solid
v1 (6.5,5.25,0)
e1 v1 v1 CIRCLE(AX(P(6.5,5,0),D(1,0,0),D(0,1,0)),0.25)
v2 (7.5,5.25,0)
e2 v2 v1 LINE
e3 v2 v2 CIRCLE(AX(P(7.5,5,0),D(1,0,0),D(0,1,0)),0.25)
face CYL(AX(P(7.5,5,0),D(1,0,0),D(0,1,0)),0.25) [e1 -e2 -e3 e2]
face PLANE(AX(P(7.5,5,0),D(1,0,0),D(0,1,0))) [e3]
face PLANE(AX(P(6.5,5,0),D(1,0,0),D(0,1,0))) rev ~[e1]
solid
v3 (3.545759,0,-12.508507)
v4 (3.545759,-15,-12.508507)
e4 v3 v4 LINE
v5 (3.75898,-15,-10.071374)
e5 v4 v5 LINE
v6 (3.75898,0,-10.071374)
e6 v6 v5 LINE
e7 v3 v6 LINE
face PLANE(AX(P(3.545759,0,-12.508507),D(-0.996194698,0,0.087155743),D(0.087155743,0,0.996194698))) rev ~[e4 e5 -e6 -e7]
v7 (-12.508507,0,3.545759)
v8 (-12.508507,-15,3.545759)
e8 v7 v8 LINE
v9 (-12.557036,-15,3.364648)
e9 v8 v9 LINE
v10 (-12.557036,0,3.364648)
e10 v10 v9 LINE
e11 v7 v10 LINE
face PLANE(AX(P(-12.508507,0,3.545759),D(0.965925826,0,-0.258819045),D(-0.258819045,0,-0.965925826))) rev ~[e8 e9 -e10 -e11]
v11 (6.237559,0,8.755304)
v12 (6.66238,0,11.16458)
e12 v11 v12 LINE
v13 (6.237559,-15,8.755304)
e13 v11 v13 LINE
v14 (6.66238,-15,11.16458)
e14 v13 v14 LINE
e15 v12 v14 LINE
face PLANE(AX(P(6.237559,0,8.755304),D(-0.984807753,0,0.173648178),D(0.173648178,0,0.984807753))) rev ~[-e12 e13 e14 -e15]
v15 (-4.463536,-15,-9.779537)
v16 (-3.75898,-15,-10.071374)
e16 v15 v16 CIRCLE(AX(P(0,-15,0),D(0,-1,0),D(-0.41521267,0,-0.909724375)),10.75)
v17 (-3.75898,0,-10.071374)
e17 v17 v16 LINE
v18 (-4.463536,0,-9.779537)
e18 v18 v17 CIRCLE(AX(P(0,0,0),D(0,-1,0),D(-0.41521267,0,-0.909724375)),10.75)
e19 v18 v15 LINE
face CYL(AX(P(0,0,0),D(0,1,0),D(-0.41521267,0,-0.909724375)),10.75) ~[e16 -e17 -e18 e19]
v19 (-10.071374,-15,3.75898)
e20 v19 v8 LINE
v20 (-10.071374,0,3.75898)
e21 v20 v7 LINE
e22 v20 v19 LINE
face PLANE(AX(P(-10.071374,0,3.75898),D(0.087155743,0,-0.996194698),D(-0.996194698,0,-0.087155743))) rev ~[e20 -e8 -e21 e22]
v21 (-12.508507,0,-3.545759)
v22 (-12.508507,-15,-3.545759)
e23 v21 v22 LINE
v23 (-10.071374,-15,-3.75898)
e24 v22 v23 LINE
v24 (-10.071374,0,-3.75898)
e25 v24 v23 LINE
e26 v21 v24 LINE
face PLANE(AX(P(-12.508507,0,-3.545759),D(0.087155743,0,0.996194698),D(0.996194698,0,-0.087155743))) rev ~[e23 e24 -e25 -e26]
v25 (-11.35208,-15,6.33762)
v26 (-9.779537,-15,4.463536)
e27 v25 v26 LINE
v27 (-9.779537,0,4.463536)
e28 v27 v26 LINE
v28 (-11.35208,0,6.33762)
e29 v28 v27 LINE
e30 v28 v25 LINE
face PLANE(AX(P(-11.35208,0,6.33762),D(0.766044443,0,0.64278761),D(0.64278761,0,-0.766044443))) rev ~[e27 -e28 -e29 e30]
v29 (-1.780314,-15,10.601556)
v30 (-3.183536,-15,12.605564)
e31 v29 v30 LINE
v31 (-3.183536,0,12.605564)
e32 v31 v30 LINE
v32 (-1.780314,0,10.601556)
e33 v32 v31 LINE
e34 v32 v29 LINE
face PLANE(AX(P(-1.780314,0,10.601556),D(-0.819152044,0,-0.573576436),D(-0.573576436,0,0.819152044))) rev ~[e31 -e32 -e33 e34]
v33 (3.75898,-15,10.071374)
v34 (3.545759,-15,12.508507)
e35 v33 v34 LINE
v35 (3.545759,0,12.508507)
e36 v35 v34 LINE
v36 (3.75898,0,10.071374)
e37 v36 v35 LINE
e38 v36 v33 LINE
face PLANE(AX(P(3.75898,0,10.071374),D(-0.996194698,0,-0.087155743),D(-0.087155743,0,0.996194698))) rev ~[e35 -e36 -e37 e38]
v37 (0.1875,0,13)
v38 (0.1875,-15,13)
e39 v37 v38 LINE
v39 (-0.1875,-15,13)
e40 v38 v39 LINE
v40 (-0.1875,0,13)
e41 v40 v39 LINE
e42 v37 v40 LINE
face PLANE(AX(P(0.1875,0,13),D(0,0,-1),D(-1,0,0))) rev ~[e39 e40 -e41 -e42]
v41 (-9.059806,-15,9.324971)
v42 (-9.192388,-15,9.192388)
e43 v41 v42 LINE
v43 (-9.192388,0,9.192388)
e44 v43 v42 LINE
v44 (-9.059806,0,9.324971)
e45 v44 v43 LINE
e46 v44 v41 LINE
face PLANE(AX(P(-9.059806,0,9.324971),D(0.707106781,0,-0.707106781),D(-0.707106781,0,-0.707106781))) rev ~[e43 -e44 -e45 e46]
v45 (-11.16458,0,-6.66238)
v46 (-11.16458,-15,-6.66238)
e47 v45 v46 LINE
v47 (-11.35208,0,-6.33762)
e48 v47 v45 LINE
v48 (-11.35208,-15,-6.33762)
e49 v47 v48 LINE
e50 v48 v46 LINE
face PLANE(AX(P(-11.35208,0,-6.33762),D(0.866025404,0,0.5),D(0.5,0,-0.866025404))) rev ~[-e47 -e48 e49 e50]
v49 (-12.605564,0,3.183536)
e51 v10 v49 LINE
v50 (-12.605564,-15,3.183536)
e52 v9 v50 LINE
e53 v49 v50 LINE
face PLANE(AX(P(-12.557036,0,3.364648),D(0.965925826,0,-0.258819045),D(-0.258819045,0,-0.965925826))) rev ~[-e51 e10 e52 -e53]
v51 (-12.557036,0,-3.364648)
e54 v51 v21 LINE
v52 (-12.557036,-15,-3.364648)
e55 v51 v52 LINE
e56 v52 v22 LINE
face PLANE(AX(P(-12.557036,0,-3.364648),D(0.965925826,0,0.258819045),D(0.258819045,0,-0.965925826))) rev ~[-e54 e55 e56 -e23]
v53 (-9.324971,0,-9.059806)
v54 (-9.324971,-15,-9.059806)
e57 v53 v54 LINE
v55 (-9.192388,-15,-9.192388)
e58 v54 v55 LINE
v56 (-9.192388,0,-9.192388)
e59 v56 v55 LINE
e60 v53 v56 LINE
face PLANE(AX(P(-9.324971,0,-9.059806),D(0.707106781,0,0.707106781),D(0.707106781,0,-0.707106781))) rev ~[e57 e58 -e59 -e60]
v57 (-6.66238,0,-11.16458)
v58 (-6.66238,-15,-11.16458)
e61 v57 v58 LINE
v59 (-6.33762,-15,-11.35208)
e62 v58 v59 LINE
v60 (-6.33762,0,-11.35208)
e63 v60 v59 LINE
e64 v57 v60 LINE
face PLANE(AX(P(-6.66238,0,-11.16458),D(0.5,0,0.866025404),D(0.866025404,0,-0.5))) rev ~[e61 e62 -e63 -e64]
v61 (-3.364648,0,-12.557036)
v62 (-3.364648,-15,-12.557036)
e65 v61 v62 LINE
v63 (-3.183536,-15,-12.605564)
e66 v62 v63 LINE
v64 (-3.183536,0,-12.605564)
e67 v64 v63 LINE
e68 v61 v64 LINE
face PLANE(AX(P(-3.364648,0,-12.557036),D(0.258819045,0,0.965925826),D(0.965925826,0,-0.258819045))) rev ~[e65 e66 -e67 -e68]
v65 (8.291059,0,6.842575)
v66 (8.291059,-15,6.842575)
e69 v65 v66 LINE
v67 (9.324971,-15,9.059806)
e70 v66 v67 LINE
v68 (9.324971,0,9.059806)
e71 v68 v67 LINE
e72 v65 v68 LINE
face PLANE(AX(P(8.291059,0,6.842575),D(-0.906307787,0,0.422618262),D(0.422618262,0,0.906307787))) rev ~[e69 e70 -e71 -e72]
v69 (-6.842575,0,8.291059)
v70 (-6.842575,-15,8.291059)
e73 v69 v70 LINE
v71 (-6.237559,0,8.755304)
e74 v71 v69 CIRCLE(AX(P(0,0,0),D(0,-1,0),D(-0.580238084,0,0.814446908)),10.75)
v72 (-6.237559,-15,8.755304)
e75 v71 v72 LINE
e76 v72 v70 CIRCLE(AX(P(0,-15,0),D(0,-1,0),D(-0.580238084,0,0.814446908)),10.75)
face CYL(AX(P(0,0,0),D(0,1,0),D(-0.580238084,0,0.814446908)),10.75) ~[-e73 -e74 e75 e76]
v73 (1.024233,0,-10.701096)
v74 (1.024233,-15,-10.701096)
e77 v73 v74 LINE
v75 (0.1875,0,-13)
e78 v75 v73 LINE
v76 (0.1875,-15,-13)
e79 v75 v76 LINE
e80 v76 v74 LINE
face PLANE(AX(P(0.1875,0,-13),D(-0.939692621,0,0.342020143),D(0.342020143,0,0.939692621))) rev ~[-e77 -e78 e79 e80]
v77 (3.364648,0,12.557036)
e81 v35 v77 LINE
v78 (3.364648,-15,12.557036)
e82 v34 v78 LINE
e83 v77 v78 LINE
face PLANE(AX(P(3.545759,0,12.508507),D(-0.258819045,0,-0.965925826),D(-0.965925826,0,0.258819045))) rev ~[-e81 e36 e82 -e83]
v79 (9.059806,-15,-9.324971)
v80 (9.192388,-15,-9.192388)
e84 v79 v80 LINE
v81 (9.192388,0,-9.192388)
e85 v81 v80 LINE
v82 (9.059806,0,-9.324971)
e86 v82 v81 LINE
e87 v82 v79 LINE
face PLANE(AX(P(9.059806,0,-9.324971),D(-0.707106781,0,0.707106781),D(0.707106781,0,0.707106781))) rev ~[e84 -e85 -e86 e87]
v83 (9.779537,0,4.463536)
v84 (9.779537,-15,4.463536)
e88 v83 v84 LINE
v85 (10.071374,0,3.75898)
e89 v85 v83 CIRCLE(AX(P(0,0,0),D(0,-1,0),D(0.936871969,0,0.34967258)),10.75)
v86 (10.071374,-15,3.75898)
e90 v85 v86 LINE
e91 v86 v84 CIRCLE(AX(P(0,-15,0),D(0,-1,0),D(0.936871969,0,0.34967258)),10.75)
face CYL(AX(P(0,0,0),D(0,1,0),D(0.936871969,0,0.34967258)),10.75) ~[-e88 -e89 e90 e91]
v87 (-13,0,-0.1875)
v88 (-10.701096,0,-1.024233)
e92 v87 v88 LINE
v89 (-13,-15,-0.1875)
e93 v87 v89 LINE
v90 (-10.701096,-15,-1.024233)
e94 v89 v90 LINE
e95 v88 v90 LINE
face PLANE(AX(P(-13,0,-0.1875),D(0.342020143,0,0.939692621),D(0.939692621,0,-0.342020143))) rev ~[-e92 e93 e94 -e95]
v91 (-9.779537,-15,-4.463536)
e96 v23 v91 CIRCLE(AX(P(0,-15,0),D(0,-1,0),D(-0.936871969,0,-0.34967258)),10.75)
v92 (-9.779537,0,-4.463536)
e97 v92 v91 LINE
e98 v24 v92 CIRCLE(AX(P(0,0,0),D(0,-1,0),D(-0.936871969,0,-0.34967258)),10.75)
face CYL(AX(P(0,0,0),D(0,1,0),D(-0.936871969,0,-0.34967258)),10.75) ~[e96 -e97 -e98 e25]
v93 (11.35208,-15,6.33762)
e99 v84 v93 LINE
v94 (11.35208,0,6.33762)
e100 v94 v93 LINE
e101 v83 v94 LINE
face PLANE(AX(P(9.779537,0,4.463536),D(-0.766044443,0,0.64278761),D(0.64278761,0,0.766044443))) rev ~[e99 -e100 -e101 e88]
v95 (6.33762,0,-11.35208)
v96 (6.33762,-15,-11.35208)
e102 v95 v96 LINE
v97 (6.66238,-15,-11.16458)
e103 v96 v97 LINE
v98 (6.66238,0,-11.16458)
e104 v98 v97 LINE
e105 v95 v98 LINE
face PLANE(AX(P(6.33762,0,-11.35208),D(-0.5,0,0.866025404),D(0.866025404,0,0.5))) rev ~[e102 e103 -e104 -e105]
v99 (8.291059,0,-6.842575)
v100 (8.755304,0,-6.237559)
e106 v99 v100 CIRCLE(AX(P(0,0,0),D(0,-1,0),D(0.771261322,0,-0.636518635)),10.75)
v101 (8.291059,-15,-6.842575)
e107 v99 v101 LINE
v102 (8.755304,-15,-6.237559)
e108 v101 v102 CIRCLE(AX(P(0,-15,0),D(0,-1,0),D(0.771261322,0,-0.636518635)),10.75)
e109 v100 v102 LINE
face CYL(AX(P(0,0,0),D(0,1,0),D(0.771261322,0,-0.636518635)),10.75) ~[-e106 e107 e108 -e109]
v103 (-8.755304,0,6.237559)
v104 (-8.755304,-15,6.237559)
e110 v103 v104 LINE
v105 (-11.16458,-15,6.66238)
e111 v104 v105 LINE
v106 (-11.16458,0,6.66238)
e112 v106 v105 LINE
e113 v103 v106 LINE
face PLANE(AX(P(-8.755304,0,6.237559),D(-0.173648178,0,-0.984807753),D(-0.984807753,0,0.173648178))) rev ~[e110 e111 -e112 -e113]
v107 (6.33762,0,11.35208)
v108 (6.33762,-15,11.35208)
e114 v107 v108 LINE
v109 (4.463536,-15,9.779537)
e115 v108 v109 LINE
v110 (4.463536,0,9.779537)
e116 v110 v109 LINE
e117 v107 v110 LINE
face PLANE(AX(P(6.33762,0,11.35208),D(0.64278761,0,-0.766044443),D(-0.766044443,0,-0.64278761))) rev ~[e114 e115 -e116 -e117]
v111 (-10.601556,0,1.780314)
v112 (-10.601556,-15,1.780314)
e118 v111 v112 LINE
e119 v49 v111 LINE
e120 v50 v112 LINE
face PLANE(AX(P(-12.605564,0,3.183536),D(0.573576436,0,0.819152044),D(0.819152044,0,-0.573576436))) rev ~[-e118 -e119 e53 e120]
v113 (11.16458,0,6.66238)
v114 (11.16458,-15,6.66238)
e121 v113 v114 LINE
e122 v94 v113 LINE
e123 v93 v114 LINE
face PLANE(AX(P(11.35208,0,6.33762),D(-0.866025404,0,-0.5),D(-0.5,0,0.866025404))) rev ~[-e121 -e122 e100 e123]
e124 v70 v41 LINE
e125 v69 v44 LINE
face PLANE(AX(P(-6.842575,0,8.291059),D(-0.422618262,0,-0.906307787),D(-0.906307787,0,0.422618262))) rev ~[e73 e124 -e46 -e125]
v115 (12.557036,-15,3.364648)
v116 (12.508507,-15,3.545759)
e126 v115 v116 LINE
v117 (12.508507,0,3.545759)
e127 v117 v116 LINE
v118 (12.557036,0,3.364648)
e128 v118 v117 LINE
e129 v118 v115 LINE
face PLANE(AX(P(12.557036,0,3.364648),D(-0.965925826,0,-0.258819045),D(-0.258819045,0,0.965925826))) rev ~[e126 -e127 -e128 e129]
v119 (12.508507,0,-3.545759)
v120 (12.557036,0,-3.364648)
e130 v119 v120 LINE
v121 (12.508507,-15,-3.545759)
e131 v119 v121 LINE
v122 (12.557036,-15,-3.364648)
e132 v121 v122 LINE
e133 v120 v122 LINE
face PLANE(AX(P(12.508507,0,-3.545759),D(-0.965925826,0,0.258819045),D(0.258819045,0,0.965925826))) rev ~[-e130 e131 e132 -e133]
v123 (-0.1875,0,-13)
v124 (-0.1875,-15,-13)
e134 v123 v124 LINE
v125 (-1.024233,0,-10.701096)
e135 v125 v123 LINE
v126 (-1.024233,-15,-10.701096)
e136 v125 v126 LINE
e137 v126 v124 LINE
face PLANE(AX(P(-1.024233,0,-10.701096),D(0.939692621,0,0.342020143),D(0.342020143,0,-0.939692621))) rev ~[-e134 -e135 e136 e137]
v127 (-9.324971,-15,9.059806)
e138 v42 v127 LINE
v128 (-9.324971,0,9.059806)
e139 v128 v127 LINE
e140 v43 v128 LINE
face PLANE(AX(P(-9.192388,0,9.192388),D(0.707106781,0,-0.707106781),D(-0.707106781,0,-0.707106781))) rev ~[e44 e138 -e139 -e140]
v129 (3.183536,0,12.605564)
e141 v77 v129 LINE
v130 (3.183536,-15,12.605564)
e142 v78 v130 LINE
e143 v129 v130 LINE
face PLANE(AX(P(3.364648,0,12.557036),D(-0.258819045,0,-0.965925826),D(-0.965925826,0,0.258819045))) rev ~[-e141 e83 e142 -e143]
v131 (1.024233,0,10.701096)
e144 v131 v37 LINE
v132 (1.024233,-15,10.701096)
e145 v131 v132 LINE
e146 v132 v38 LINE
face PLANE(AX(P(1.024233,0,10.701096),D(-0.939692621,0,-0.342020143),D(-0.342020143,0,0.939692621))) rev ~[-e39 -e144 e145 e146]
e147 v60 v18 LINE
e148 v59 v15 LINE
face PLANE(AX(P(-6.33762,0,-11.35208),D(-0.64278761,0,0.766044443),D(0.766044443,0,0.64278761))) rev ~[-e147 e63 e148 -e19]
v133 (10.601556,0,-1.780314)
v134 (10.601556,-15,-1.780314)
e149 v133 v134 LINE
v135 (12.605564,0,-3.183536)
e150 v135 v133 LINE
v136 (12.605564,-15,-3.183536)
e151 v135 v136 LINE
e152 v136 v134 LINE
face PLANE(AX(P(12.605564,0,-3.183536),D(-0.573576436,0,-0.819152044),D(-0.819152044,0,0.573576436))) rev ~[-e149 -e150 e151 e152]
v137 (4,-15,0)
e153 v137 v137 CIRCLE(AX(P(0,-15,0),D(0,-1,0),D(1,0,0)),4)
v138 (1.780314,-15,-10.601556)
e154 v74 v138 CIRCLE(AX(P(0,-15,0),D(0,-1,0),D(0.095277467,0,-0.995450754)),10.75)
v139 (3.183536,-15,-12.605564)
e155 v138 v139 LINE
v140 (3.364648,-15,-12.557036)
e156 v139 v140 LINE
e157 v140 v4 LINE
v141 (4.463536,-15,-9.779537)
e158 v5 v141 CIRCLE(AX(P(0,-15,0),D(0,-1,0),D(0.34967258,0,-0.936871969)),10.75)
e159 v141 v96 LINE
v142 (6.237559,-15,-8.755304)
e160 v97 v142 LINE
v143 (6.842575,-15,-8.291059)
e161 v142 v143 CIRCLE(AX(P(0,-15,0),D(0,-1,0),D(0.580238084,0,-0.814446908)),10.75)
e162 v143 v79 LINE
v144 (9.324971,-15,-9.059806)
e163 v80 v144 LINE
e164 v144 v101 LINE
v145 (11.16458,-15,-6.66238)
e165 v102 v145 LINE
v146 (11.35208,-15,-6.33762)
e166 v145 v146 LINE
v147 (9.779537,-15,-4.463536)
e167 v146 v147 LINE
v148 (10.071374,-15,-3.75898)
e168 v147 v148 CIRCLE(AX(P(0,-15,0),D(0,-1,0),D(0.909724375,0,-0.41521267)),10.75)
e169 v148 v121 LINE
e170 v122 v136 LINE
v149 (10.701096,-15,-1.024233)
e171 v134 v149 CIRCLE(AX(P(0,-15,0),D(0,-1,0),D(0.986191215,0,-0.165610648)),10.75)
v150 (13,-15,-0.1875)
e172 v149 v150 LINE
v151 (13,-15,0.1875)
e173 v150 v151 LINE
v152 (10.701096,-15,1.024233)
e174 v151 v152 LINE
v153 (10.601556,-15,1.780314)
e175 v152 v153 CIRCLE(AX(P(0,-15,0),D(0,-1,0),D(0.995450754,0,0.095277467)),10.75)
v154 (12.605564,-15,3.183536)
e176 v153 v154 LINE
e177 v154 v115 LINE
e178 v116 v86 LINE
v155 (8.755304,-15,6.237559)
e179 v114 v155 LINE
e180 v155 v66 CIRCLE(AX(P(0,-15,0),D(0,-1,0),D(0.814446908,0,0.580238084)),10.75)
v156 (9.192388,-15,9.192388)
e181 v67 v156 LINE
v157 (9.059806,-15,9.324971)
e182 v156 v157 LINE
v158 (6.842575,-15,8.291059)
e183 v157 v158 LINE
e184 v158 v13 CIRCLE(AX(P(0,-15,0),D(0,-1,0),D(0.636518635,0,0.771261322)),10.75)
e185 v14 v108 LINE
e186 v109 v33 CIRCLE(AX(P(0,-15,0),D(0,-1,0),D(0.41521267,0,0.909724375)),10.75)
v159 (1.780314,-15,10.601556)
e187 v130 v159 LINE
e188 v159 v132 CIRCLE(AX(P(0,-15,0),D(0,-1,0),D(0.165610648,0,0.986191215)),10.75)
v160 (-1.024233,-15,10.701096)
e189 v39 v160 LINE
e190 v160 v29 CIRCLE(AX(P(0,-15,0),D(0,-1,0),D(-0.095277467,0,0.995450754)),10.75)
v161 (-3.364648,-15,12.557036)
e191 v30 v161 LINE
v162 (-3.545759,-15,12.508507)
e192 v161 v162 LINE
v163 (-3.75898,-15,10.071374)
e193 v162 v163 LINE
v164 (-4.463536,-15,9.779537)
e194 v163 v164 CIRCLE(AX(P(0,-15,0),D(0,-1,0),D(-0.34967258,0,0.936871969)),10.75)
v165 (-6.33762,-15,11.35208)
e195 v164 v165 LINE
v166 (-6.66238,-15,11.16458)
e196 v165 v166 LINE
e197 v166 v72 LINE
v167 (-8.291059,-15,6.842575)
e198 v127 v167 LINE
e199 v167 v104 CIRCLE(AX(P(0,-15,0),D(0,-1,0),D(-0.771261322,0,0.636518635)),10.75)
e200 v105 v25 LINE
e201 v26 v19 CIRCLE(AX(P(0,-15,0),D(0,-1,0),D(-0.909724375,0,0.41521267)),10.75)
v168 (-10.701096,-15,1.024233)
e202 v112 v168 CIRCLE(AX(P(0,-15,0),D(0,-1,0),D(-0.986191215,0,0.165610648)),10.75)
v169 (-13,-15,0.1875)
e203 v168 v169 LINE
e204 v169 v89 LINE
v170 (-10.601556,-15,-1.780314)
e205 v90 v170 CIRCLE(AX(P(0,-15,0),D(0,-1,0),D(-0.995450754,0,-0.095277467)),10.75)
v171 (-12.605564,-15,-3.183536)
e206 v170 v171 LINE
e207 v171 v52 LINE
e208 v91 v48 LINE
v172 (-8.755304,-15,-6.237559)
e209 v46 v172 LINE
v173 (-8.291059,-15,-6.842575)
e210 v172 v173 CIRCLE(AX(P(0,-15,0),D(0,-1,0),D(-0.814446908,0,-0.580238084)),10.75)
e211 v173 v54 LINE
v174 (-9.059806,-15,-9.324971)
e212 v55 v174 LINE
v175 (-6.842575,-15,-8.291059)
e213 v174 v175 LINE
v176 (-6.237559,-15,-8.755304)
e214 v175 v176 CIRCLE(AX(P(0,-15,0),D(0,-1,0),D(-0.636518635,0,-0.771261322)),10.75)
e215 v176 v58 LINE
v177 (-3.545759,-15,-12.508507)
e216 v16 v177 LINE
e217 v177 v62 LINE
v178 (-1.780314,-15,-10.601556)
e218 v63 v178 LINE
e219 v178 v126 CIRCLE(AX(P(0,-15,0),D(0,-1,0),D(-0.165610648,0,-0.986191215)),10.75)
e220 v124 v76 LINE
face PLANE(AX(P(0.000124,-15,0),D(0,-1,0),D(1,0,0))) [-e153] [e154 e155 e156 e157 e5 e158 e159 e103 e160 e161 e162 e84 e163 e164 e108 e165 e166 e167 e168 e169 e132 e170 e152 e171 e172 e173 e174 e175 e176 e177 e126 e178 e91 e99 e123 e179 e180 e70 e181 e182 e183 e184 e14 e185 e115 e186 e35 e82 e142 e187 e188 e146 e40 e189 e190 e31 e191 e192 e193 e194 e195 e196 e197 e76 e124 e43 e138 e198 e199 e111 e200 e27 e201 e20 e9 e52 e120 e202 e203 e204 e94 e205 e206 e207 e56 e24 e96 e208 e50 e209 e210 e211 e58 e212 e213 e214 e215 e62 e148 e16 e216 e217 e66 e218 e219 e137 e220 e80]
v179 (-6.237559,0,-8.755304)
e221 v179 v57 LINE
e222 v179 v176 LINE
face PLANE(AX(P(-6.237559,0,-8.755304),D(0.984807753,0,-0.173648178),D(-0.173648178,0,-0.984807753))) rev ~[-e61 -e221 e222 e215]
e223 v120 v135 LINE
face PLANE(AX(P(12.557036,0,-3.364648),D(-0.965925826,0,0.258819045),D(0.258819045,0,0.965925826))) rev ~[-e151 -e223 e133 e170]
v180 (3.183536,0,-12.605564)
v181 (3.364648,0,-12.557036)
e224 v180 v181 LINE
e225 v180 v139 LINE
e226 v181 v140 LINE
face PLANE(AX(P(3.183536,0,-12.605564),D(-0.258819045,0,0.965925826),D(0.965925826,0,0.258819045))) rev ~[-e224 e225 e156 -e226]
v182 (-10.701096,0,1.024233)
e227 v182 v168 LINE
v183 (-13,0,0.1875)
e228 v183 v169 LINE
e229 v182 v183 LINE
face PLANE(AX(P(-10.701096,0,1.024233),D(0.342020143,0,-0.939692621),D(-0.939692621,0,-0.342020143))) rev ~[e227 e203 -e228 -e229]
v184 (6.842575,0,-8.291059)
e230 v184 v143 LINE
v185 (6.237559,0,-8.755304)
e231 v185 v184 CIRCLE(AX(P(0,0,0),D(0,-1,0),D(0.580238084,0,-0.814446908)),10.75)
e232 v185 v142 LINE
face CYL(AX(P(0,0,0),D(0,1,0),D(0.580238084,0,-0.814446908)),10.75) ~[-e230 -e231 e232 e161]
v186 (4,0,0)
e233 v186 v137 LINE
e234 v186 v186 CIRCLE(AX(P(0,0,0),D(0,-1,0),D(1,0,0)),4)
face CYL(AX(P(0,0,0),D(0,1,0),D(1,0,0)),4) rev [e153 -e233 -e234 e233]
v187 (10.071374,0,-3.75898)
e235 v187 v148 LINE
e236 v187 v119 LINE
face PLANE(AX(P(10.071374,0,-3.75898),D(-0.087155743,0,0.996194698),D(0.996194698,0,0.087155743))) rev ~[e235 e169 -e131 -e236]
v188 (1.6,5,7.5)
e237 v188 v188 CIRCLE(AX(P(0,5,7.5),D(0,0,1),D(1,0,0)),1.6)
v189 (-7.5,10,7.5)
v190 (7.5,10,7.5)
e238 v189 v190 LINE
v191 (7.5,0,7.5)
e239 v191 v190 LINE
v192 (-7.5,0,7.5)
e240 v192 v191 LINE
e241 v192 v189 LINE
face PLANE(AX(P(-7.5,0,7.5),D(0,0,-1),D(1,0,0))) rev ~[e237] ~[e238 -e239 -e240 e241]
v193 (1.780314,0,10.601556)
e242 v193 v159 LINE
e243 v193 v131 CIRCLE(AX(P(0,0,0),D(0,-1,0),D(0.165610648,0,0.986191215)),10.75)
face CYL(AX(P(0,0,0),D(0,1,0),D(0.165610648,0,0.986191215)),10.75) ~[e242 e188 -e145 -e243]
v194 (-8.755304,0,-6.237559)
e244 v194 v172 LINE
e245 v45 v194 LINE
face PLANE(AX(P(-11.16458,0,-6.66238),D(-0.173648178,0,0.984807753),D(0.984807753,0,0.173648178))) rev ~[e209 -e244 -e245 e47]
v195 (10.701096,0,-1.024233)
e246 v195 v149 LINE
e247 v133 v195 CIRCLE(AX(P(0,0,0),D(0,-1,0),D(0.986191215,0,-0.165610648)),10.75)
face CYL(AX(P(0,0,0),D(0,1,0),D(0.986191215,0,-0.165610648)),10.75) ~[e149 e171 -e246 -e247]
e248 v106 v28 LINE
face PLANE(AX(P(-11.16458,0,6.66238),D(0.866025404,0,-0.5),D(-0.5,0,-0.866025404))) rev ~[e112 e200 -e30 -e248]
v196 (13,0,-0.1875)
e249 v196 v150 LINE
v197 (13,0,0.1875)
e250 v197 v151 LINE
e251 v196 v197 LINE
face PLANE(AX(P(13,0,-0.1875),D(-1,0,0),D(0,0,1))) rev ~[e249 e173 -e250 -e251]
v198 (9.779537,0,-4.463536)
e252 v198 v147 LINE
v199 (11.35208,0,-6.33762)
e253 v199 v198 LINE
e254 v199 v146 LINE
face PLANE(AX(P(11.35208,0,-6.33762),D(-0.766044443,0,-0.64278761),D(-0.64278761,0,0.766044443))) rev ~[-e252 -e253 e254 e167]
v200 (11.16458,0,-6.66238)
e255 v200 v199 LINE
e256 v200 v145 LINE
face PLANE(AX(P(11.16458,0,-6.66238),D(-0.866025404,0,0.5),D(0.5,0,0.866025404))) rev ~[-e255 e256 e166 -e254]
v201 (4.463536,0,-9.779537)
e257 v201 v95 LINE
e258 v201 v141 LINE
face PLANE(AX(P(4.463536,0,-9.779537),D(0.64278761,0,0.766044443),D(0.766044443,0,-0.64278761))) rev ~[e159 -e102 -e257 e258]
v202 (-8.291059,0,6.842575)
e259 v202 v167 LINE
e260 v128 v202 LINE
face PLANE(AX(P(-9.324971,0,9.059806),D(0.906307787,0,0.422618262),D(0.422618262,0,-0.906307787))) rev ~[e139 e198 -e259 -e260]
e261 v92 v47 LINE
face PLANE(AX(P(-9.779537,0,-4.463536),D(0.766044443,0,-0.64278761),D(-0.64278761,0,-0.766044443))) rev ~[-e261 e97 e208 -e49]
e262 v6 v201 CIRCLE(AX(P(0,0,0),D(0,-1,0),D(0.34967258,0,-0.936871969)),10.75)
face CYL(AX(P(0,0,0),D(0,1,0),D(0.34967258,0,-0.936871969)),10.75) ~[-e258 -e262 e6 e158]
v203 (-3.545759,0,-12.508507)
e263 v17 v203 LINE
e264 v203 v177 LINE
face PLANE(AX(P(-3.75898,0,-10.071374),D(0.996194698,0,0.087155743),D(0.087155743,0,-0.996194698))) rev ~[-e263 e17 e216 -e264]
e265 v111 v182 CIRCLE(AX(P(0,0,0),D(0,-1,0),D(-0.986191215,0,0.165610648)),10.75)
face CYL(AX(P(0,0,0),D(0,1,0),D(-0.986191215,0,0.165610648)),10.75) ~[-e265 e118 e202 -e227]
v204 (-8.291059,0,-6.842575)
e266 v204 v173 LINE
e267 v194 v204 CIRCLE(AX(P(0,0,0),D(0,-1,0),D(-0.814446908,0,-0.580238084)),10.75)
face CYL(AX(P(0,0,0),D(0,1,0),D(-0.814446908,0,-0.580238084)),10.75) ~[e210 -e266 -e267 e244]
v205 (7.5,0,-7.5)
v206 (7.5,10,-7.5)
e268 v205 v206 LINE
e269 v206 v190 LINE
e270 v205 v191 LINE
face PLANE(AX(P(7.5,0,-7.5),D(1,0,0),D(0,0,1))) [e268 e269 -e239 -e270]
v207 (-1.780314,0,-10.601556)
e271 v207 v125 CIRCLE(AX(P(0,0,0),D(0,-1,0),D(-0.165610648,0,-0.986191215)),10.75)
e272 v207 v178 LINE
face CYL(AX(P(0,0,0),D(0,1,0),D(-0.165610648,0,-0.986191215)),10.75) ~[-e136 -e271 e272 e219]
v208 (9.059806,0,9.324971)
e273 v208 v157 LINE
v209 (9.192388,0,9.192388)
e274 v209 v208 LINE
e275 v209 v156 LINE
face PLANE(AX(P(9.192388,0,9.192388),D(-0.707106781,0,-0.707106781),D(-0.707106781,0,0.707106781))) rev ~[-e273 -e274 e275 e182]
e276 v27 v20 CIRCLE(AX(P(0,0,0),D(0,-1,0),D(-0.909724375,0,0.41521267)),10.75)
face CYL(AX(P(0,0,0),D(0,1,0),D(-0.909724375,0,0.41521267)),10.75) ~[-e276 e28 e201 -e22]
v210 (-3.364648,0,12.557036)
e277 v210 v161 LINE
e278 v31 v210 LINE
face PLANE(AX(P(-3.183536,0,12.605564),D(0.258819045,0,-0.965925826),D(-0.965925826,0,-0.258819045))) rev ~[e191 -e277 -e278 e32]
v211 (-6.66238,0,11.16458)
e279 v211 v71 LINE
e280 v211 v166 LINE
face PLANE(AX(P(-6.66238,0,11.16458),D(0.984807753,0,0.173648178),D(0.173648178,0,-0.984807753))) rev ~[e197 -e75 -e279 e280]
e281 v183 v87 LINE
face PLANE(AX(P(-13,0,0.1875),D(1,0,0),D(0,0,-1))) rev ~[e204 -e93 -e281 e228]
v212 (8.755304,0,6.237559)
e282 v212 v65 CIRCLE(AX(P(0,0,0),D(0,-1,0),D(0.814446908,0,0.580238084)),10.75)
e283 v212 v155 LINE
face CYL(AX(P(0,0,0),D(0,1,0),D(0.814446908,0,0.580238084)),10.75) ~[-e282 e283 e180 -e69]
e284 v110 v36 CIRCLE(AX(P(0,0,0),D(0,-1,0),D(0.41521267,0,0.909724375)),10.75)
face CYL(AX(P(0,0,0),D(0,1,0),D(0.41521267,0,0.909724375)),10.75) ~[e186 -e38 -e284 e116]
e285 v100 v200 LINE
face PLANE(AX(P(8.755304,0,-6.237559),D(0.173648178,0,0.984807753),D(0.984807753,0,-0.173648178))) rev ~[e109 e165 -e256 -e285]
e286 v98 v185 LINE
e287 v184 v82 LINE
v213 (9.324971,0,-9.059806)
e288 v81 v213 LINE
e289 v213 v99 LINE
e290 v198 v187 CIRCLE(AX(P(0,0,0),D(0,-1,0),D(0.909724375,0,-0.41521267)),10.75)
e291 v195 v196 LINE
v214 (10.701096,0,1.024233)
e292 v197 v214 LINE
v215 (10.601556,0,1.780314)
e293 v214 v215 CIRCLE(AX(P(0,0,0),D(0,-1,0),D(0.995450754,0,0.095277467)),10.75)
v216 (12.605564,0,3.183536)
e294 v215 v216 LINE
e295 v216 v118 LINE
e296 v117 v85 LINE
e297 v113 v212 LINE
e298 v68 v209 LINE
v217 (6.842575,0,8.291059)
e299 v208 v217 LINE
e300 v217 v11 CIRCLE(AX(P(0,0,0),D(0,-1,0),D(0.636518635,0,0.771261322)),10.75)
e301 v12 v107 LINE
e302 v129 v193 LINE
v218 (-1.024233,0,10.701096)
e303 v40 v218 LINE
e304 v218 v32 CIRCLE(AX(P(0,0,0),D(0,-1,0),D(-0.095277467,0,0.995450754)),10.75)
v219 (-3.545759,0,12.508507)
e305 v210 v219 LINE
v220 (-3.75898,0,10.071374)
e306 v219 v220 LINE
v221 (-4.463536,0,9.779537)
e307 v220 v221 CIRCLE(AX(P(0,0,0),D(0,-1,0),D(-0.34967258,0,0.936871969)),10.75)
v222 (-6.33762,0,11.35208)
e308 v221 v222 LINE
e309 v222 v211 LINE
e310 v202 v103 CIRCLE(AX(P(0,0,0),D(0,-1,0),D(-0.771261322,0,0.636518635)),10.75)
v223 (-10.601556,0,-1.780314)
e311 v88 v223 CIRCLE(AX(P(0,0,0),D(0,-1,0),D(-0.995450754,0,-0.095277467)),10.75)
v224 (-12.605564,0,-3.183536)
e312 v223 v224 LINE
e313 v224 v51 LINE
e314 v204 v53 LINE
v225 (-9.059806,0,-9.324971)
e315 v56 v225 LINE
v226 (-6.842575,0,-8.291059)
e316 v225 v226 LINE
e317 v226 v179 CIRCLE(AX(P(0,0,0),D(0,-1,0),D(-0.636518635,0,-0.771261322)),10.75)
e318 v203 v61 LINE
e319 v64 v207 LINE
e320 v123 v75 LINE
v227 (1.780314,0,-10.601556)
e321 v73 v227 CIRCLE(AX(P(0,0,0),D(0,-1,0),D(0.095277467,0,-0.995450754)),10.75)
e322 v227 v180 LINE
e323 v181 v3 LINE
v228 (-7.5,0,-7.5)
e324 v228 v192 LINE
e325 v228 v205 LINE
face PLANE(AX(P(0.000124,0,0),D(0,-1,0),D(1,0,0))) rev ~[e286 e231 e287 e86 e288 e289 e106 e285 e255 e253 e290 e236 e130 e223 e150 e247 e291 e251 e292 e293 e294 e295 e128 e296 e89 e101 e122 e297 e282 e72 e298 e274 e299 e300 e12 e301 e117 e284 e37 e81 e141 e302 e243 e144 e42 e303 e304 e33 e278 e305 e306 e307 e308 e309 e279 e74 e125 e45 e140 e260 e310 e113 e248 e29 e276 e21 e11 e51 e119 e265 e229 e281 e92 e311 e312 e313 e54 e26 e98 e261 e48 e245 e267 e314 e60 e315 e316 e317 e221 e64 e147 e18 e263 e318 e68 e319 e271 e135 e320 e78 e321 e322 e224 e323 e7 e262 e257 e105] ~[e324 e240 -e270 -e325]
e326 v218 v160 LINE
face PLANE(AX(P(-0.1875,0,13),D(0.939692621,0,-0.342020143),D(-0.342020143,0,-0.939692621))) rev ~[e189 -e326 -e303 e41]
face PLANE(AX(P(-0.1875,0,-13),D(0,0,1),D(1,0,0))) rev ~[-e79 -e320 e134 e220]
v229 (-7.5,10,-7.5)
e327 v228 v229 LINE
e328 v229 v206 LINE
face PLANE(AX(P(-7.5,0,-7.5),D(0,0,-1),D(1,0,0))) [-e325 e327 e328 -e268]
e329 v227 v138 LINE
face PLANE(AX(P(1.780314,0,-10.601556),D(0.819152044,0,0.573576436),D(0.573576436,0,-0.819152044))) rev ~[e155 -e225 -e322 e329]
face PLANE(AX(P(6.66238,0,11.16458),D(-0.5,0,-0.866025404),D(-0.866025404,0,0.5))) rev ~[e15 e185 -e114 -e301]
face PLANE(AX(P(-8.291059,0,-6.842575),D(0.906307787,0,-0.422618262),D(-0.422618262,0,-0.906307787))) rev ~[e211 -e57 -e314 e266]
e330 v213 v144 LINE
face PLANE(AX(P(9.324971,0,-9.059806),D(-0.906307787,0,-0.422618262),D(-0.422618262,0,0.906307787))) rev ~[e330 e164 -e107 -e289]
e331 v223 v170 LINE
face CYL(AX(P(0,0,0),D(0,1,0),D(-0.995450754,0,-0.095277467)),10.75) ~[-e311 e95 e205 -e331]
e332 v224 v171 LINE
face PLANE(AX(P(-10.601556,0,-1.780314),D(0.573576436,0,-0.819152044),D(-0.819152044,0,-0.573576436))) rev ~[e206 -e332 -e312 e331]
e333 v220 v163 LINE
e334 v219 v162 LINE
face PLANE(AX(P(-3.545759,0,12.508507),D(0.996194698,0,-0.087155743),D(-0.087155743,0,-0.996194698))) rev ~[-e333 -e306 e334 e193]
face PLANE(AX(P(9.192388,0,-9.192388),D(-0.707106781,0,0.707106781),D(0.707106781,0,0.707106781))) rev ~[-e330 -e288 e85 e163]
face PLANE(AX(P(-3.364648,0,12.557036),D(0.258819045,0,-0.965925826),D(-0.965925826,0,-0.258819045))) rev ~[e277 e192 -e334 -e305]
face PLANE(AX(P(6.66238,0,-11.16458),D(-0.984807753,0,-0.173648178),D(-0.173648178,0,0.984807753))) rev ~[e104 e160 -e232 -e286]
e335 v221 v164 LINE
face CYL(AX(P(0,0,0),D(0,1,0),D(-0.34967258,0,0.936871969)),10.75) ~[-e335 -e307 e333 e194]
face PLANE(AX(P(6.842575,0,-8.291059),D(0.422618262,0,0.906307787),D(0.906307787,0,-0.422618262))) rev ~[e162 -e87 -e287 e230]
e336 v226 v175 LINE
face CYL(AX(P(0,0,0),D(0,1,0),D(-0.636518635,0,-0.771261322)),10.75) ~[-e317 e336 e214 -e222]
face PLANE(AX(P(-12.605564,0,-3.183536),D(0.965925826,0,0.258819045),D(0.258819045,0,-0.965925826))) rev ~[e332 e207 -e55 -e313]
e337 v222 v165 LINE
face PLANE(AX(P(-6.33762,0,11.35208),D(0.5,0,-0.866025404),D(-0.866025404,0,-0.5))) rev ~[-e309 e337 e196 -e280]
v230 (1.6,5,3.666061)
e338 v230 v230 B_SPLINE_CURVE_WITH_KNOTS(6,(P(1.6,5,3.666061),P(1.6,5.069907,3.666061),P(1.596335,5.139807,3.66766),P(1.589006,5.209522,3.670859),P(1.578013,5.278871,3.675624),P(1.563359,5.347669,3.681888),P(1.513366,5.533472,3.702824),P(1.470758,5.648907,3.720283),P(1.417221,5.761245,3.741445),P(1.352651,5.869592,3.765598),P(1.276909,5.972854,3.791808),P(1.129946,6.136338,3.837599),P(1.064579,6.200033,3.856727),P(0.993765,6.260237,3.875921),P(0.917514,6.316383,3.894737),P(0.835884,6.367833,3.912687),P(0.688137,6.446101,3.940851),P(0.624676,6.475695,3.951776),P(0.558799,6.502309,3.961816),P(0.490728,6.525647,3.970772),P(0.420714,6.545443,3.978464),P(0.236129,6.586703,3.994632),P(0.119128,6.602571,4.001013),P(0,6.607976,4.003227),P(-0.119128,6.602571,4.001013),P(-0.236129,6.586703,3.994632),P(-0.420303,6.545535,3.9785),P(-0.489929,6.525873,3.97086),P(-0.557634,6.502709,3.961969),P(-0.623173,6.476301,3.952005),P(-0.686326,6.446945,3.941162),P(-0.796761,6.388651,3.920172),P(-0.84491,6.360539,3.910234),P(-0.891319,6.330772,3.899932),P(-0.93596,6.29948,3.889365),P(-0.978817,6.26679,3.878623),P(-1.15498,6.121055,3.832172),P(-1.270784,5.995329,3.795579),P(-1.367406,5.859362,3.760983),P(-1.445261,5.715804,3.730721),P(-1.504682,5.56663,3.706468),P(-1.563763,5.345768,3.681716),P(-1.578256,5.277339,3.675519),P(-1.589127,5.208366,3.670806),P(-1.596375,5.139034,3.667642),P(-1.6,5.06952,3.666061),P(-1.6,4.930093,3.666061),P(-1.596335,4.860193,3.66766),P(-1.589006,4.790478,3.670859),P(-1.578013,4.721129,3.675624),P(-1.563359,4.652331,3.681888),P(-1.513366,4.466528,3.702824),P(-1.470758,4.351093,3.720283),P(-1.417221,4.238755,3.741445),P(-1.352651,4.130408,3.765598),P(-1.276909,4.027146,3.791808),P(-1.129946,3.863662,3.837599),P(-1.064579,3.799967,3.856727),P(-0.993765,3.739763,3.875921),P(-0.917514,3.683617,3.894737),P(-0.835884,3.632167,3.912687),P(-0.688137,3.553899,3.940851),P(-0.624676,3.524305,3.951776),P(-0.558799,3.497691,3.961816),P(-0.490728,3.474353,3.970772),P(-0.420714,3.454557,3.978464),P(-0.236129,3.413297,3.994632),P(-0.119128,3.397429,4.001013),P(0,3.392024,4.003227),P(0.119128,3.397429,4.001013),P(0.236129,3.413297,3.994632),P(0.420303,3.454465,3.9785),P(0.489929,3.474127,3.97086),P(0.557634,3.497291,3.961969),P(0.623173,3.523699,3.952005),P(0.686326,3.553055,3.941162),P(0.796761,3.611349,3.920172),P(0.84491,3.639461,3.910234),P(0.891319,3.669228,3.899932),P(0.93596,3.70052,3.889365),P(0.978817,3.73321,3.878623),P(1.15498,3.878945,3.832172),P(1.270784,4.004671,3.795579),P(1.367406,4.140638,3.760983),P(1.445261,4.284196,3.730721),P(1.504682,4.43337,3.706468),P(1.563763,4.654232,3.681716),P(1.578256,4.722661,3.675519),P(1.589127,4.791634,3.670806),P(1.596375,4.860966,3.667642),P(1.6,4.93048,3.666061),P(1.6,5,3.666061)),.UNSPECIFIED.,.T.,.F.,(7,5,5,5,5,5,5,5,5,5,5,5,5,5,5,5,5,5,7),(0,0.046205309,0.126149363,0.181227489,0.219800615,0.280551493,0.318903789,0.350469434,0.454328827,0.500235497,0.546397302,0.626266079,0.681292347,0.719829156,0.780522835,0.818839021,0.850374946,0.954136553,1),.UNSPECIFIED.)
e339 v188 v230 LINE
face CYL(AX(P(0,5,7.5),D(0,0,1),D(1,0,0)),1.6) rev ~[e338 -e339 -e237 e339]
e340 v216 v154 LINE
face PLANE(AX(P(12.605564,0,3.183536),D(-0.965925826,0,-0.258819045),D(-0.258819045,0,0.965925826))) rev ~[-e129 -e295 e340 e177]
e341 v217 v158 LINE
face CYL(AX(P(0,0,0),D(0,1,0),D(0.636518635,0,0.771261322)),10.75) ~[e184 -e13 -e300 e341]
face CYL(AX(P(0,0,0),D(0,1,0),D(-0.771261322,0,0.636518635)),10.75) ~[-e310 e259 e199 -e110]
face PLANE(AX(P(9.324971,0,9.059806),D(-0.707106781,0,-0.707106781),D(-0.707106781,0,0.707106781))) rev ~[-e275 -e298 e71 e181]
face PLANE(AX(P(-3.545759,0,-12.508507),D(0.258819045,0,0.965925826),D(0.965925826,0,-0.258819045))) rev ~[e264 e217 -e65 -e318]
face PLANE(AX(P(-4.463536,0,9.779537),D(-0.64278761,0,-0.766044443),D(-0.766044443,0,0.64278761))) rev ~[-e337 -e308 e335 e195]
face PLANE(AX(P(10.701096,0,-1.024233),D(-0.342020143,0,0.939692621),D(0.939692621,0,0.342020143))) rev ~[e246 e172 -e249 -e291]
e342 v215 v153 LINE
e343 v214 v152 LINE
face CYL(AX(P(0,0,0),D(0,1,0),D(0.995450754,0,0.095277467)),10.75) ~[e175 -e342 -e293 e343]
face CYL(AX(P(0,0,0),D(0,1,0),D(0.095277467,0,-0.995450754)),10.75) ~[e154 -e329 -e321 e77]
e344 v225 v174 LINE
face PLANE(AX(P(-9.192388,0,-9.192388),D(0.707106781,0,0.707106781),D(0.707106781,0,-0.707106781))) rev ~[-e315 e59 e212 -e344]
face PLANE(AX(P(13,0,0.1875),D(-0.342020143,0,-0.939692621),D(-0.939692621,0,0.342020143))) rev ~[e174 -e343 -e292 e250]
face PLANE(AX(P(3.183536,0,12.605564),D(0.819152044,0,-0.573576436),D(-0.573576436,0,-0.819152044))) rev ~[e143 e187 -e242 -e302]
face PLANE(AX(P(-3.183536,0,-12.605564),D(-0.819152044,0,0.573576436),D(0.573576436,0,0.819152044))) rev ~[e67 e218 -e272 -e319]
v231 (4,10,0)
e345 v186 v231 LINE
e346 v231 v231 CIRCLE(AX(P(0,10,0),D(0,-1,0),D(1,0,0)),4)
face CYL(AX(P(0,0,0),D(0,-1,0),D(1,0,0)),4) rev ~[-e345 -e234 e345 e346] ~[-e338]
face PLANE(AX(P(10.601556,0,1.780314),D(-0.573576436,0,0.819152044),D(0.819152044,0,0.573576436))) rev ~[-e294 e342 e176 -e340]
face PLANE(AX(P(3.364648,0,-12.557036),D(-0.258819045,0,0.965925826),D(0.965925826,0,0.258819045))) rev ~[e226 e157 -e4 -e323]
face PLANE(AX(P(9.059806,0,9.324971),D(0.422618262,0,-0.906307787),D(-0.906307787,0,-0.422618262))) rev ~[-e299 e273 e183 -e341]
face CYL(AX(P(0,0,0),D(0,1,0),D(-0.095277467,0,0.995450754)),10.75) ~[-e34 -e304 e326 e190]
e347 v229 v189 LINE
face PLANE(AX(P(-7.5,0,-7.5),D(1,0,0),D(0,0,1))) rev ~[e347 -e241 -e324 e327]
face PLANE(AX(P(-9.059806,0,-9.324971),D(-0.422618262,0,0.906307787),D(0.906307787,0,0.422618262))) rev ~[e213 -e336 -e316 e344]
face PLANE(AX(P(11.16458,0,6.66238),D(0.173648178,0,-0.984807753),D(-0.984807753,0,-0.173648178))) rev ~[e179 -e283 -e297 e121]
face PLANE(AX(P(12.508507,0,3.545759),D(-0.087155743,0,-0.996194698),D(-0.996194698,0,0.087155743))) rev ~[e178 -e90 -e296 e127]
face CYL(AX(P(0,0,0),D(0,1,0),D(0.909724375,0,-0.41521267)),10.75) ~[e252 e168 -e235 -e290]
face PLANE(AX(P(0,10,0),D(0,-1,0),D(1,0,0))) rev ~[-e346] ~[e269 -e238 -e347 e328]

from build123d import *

# Parameters (mm, degrees)
F0_R     = 4
F1_DEPTH = 15
F2_W     = 15
F2_H     = 15
F2_R     = 4
F3_DEPTH = 10
F4_R     = 1.6
F5_DEPTH = 4.833939544
F6_R     = 0.25
F7_DEPTH = 1


with BuildPart() as f1:
    # F0 (on Front) → F1 (new body)
    with BuildSketch(Plane.XZ):
        with BuildLine():
            ThreePointArc((10.701095609, -1.0242327697), (10.7377669419, -0.5126998162), (10.75, 0))
            ThreePointArc((10.75, 0), (10.7377669419, 0.5126998162), (10.701095609, 1.0242327697))
            ThreePointArc((10.701095609, 1.0242327697), (10.6580322598, 1.4031565664), (10.6015555658, 1.7803144627))
            ThreePointArc((10.6015555658, 1.7803144627), (10.3837026326, 2.7823047349), (10.0713736709, 3.7589802315))
            ThreePointArc((10.0713736709, 3.7589802315), (9.9317049745, 4.1138468979), (9.7795370306, 4.4635362065))
            ThreePointArc((9.7795370306, 4.4635362065), (9.3097730907, 5.375), (8.7553042609, 6.2375594025))
            ThreePointArc((8.7553042609, 6.2375594025), (8.5285484081, 6.5441853618), (8.2910592083, 6.8425753343))
            ThreePointArc((8.2910592083, 6.8425753343), (7.6013978978, 7.6013978978), (6.8425753343, 8.2910592083))
            ThreePointArc((6.8425753343, 8.2910592083), (6.5441853618, 8.5285484081), (6.2375594025, 8.7553042609))
            ThreePointArc((6.2375594025, 8.7553042609), (5.375, 9.3097730907), (4.4635362065, 9.7795370306))
            ThreePointArc((4.4635362065, 9.7795370306), (4.1138468979, 9.9317049745), (3.7589802315, 10.0713736709))
            ThreePointArc((3.7589802315, 10.0713736709), (2.7823047349, 10.3837026326), (1.7803144627, 10.6015555658))
            ThreePointArc((1.7803144627, 10.6015555658), (1.4031565664, 10.6580322598), (1.0242327697, 10.701095609))
            ThreePointArc((1.0242327697, 10.701095609), (0, 10.75), (-1.0242327697, 10.701095609))
            ThreePointArc((-1.0242327697, 10.701095609), (-1.4031565664, 10.6580322598), (-1.7803144627, 10.6015555658))
            ThreePointArc((-1.7803144627, 10.6015555658), (-2.7823047349, 10.3837026326), (-3.7589802315, 10.0713736709))
            ThreePointArc((-3.7589802315, 10.0713736709), (-4.1138468979, 9.9317049745), (-4.4635362065, 9.7795370306))
            ThreePointArc((-4.4635362065, 9.7795370306), (-5.375, 9.3097730907), (-6.2375594025, 8.7553042609))
            ThreePointArc((-6.2375594025, 8.7553042609), (-6.5441853618, 8.5285484081), (-6.8425753343, 8.2910592083))
            ThreePointArc((-6.8425753343, 8.2910592083), (-7.6013978978, 7.6013978978), (-8.2910592083, 6.8425753343))
            ThreePointArc((-8.2910592083, 6.8425753343), (-8.5285484081, 6.5441853618), (-8.7553042609, 6.2375594025))
            ThreePointArc((-8.7553042609, 6.2375594025), (-9.3097730907, 5.375), (-9.7795370306, 4.4635362065))
            ThreePointArc((-9.7795370306, 4.4635362065), (-9.9317049745, 4.1138468979), (-10.0713736709, 3.7589802315))
            ThreePointArc((-10.0713736709, 3.7589802315), (-10.3837026326, 2.7823047349), (-10.6015555658, 1.7803144627))
            ThreePointArc((-10.6015555658, 1.7803144627), (-10.6580322598, 1.4031565664), (-10.701095609, 1.0242327697))
            ThreePointArc((-10.701095609, 1.0242327697), (-10.75, 0), (-10.701095609, -1.0242327697))
            ThreePointArc((-10.701095609, -1.0242327697), (-10.6580322598, -1.4031565664), (-10.6015555658, -1.7803144627))
            ThreePointArc((-10.6015555658, -1.7803144627), (-10.3837026326, -2.7823047349), (-10.0713736709, -3.7589802315))
            ThreePointArc((-10.0713736709, -3.7589802315), (-9.9317049745, -4.1138468979), (-9.7795370306, -4.4635362065))
            ThreePointArc((-9.7795370306, -4.4635362065), (-9.3097730907, -5.375), (-8.7553042609, -6.2375594025))
            ThreePointArc((-8.7553042609, -6.2375594025), (-8.5285484081, -6.5441853618), (-8.2910592083, -6.8425753343))
            ThreePointArc((-8.2910592083, -6.8425753343), (-7.6013978978, -7.6013978978), (-6.8425753343, -8.2910592083))
            ThreePointArc((-6.8425753343, -8.2910592083), (-6.5441853618, -8.5285484081), (-6.2375594025, -8.7553042609))
            ThreePointArc((-6.2375594025, -8.7553042609), (-5.375, -9.3097730907), (-4.4635362065, -9.7795370306))
            ThreePointArc((-4.4635362065, -9.7795370306), (-4.1138468979, -9.9317049745), (-3.7589802315, -10.0713736709))
            ThreePointArc((-3.7589802315, -10.0713736709), (-2.7823047349, -10.3837026326), (-1.7803144627, -10.6015555658))
            ThreePointArc((-1.7803144627, -10.6015555658), (-1.4031565664, -10.6580322598), (-1.0242327697, -10.701095609))
            ThreePointArc((-1.0242327697, -10.701095609), (0, -10.75), (1.0242327697, -10.701095609))
            ThreePointArc((1.0242327697, -10.701095609), (1.4031565664, -10.6580322598), (1.7803144627, -10.6015555658))
            ThreePointArc((1.7803144627, -10.6015555658), (2.7823047349, -10.3837026326), (3.7589802315, -10.0713736709))
            ThreePointArc((3.7589802315, -10.0713736709), (4.1138468979, -9.9317049745), (4.4635362065, -9.7795370306))
            ThreePointArc((4.4635362065, -9.7795370306), (5.375, -9.3097730907), (6.2375594025, -8.7553042609))
            ThreePointArc((6.2375594025, -8.7553042609), (6.5441853618, -8.5285484081), (6.8425753343, -8.2910592083))
            ThreePointArc((6.8425753343, -8.2910592083), (7.6013978978, -7.6013978978), (8.2910592083, -6.8425753343))
            ThreePointArc((8.2910592083, -6.8425753343), (8.5285484081, -6.5441853618), (8.7553042609, -6.2375594025))
            ThreePointArc((8.7553042609, -6.2375594025), (9.3097730907, -5.375), (9.7795370306, -4.4635362065))
            ThreePointArc((9.7795370306, -4.4635362065), (9.9317049745, -4.1138468979), (10.0713736709, -3.7589802315))
            ThreePointArc((10.0713736709, -3.7589802315), (10.3837026326, -2.7823047349), (10.6015555658, -1.7803144627))
            ThreePointArc((10.6015555658, -1.7803144627), (10.6580322598, -1.4031565664), (10.701095609, -1.0242327697))
        make_face()
        Circle(F0_R, mode=Mode.SUBTRACT)
        with BuildLine():
            ThreePointArc((10.701095609, 1.0242327697), (10.7377669419, 0.5126998162), (10.75, 0))
            ThreePointArc((10.75, 0), (10.7377669419, -0.5126998162), (10.701095609, -1.0242327697))
            Line((10.701095609, -1.0242327697), (13, -0.1875))
            Line((13, -0.1875), (13, 0))
            Line((13, 0), (13, 0.1875))
            Line((13, 0.1875), (10.701095609, 1.0242327697))
        make_face()
        with BuildLine():
            ThreePointArc((10.0713736709, 3.7589802315), (10.3837026326, 2.7823047349), (10.6015555658, 1.7803144627))
            Line((10.6015555658, 1.7803144627), (12.6055643127, 3.1835364939))
            Line((12.6055643127, 3.1835364939), (12.5570357418, 3.3646475863))
            Line((12.5570357418, 3.3646475863), (12.5085071708, 3.5457586788))
            Line((12.5085071708, 3.5457586788), (10.0713736709, 3.7589802315))
        make_face()
        with BuildLine():
            Line((12.6055643127, -3.1835364939), (10.6015555658, -1.7803144627))
            ThreePointArc((10.6015555658, -1.7803144627), (10.3837026326, -2.7823047349), (10.0713736709, -3.7589802315))
            Line((10.0713736709, -3.7589802315), (12.5085071708, -3.5457586788))
            Line((12.5085071708, -3.5457586788), (12.5570357418, -3.3646475863))
            Line((12.5570357418, -3.3646475863), (12.6055643127, -3.1835364939))
        make_face()
        with BuildLine():
            ThreePointArc((8.7553042609, 6.2375594025), (9.3097730907, 5.375), (9.7795370306, 4.4635362065))
            Line((9.7795370306, 4.4635362065), (11.3520802492, 6.3376202368))
            Line((11.3520802492, 6.3376202368), (11.2583302492, 6.5))
            Line((11.2583302492, 6.5), (11.1645802492, 6.6623797632))
            Line((11.1645802492, 6.6623797632), (8.7553042609, 6.2375594025))
        make_face()
        with BuildLine():
            Line((11.3520802492, -6.3376202368), (9.7795370306, -4.4635362065))
            ThreePointArc((9.7795370306, -4.4635362065), (9.3097730907, -5.375), (8.7553042609, -6.2375594025))
            Line((8.7553042609, -6.2375594025), (11.1645802492, -6.6623797632))
            Line((11.1645802492, -6.6623797632), (11.2583302492, -6.5))
            Line((11.2583302492, -6.5), (11.3520802492, -6.3376202368))
        make_face()
        with BuildLine():
            ThreePointArc((6.8425753343, 8.2910592083), (7.6013978978, 7.6013978978), (8.2910592083, 6.8425753343))
            Line((8.2910592083, 6.8425753343), (9.3249706769, 9.059805634))
            Line((9.3249706769, 9.059805634), (9.1923881554, 9.1923881554))
            Line((9.1923881554, 9.1923881554), (9.059805634, 9.3249706769))
            Line((9.059805634, 9.3249706769), (6.8425753343, 8.2910592083))
        make_face()
        with BuildLine():
            Line((9.3249706769, -9.059805634), (8.2910592083, -6.8425753343))
            ThreePointArc((8.2910592083, -6.8425753343), (7.6013978978, -7.6013978978), (6.8425753343, -8.2910592083))
            Line((6.8425753343, -8.2910592083), (9.059805634, -9.3249706769))
            Line((9.059805634, -9.3249706769), (9.1923881554, -9.1923881554))
            Line((9.1923881554, -9.1923881554), (9.3249706769, -9.059805634))
        make_face()
        with BuildLine():
            ThreePointArc((4.4635362065, 9.7795370306), (5.375, 9.3097730907), (6.2375594025, 8.7553042609))
            Line((6.2375594025, 8.7553042609), (6.6623797632, 11.1645802492))
            Line((6.6623797632, 11.1645802492), (6.5, 11.2583302492))
            Line((6.5, 11.2583302492), (6.3376202368, 11.3520802492))
            Line((6.3376202368, 11.3520802492), (4.4635362065, 9.7795370306))
        make_face()
        with BuildLine():
            Line((6.6623797632, -11.1645802492), (6.2375594025, -8.7553042609))
            ThreePointArc((6.2375594025, -8.7553042609), (5.375, -9.3097730907), (4.4635362065, -9.7795370306))
            Line((4.4635362065, -9.7795370306), (6.3376202368, -11.3520802492))
            Line((6.3376202368, -11.3520802492), (6.5, -11.2583302492))
            Line((6.5, -11.2583302492), (6.6623797632, -11.1645802492))
        make_face()
        with BuildLine():
            ThreePointArc((1.7803144627, 10.6015555658), (2.7823047349, 10.3837026326), (3.7589802315, 10.0713736709))
            Line((3.7589802315, 10.0713736709), (3.5457586788, 12.5085071708))
            Line((3.5457586788, 12.5085071708), (3.3646475863, 12.5570357418))
            Line((3.3646475863, 12.5570357418), (3.1835364939, 12.6055643127))
            Line((3.1835364939, 12.6055643127), (1.7803144627, 10.6015555658))
        make_face()
        with BuildLine():
            Line((3.5457586788, -12.5085071708), (3.7589802315, -10.0713736709))
            ThreePointArc((3.7589802315, -10.0713736709), (2.7823047349, -10.3837026326), (1.7803144627, -10.6015555658))
            Line((1.7803144627, -10.6015555658), (3.1835364939, -12.6055643127))
            Line((3.1835364939, -12.6055643127), (3.3646475863, -12.5570357418))
            Line((3.3646475863, -12.5570357418), (3.5457586788, -12.5085071708))
        make_face()
        with BuildLine():
            ThreePointArc((-1.0242327697, 10.701095609), (0, 10.75), (1.0242327697, 10.701095609))
            Line((1.0242327697, 10.701095609), (0.1875, 13))
            Line((0.1875, 13), (0, 13))
            Line((0, 13), (-0.1875, 13))
            Line((-0.1875, 13), (-1.0242327697, 10.701095609))
        make_face()
        with BuildLine():
            Line((0.1875, -13), (1.0242327697, -10.701095609))
            ThreePointArc((1.0242327697, -10.701095609), (0, -10.75), (-1.0242327697, -10.701095609))
            Line((-1.0242327697, -10.701095609), (-0.1875, -13))
            Line((-0.1875, -13), (0, -13))
            Line((0, -13), (0.1875, -13))
        make_face()
        with BuildLine():
            ThreePointArc((-3.7589802315, 10.0713736709), (-2.7823047349, 10.3837026326), (-1.7803144627, 10.6015555658))
            Line((-1.7803144627, 10.6015555658), (-3.1835364939, 12.6055643127))
            Line((-3.1835364939, 12.6055643127), (-3.3646475863, 12.5570357418))
            Line((-3.3646475863, 12.5570357418), (-3.5457586788, 12.5085071708))
            Line((-3.5457586788, 12.5085071708), (-3.7589802315, 10.0713736709))
        make_face()
        with BuildLine():
            Line((-3.1835364939, -12.6055643127), (-1.7803144627, -10.6015555658))
            ThreePointArc((-1.7803144627, -10.6015555658), (-2.7823047349, -10.3837026326), (-3.7589802315, -10.0713736709))
            Line((-3.7589802315, -10.0713736709), (-3.5457586788, -12.5085071708))
            Line((-3.5457586788, -12.5085071708), (-3.3646475863, -12.5570357418))
            Line((-3.3646475863, -12.5570357418), (-3.1835364939, -12.6055643127))
        make_face()
        with BuildLine():
            ThreePointArc((-6.2375594025, 8.7553042609), (-5.375, 9.3097730907), (-4.4635362065, 9.7795370306))
            Line((-4.4635362065, 9.7795370306), (-6.3376202368, 11.3520802492))
            Line((-6.3376202368, 11.3520802492), (-6.5, 11.2583302492))
            Line((-6.5, 11.2583302492), (-6.6623797632, 11.1645802492))
            Line((-6.6623797632, 11.1645802492), (-6.2375594025, 8.7553042609))
        make_face()
        with BuildLine():
            Line((-6.3376202368, -11.3520802492), (-4.4635362065, -9.7795370306))
            ThreePointArc((-4.4635362065, -9.7795370306), (-5.375, -9.3097730907), (-6.2375594025, -8.7553042609))
            Line((-6.2375594025, -8.7553042609), (-6.6623797632, -11.1645802492))
            Line((-6.6623797632, -11.1645802492), (-6.5, -11.2583302492))
            Line((-6.5, -11.2583302492), (-6.3376202368, -11.3520802492))
        make_face()
        with BuildLine():
            ThreePointArc((-8.2910592083, 6.8425753343), (-7.6013978978, 7.6013978978), (-6.8425753343, 8.2910592083))
            Line((-6.8425753343, 8.2910592083), (-9.059805634, 9.3249706769))
            Line((-9.059805634, 9.3249706769), (-9.1923881554, 9.1923881554))
            Line((-9.1923881554, 9.1923881554), (-9.3249706769, 9.059805634))
            Line((-9.3249706769, 9.059805634), (-8.2910592083, 6.8425753343))
        make_face()
        with BuildLine():
            Line((-9.059805634, -9.3249706769), (-6.8425753343, -8.2910592083))
            ThreePointArc((-6.8425753343, -8.2910592083), (-7.6013978978, -7.6013978978), (-8.2910592083, -6.8425753343))
            Line((-8.2910592083, -6.8425753343), (-9.3249706769, -9.059805634))
            Line((-9.3249706769, -9.059805634), (-9.1923881554, -9.1923881554))
            Line((-9.1923881554, -9.1923881554), (-9.059805634, -9.3249706769))
        make_face()
        with BuildLine():
            ThreePointArc((-9.7795370306, 4.4635362065), (-9.3097730907, 5.375), (-8.7553042609, 6.2375594025))
            Line((-8.7553042609, 6.2375594025), (-11.1645802492, 6.6623797632))
            Line((-11.1645802492, 6.6623797632), (-11.2583302492, 6.5))
            Line((-11.2583302492, 6.5), (-11.3520802492, 6.3376202368))
            Line((-11.3520802492, 6.3376202368), (-9.7795370306, 4.4635362065))
        make_face()
        with BuildLine():
            Line((-11.1645802492, -6.6623797632), (-8.7553042609, -6.2375594025))
            ThreePointArc((-8.7553042609, -6.2375594025), (-9.3097730907, -5.375), (-9.7795370306, -4.4635362065))
            Line((-9.7795370306, -4.4635362065), (-11.3520802492, -6.3376202368))
            Line((-11.3520802492, -6.3376202368), (-11.2583302492, -6.5))
            Line((-11.2583302492, -6.5), (-11.1645802492, -6.6623797632))
        make_face()
        with BuildLine():
            ThreePointArc((-10.6015555658, 1.7803144627), (-10.3837026326, 2.7823047349), (-10.0713736709, 3.7589802315))
            Line((-10.0713736709, 3.7589802315), (-12.5085071708, 3.5457586788))
            Line((-12.5085071708, 3.5457586788), (-12.5570357418, 3.3646475863))
            Line((-12.5570357418, 3.3646475863), (-12.6055643127, 3.1835364939))
            Line((-12.6055643127, 3.1835364939), (-10.6015555658, 1.7803144627))
        make_face()
        with BuildLine():
            Line((-12.5085071708, -3.5457586788), (-10.0713736709, -3.7589802315))
            ThreePointArc((-10.0713736709, -3.7589802315), (-10.3837026326, -2.7823047349), (-10.6015555658, -1.7803144627))
            Line((-10.6015555658, -1.7803144627), (-12.6055643127, -3.1835364939))
            Line((-12.6055643127, -3.1835364939), (-12.5570357418, -3.3646475863))
            Line((-12.5570357418, -3.3646475863), (-12.5085071708, -3.5457586788))
        make_face()
        with BuildLine():
            ThreePointArc((-10.701095609, -1.0242327697), (-10.75, 0), (-10.701095609, 1.0242327697))
            Line((-10.701095609, 1.0242327697), (-13, 0.1875))
            Line((-13, 0.1875), (-13, 0))
            Line((-13, 0), (-13, -0.1875))
            Line((-13, -0.1875), (-10.701095609, -1.0242327697))
        make_face()
    extrude(amount=F1_DEPTH)

    # F2 (on Front) → F3 (join)
    with BuildSketch(Plane.XZ):
        Rectangle(F2_W, F2_H)
        Circle(F2_R, mode=Mode.SUBTRACT)
    extrude(amount=-F3_DEPTH)

    # F4 (on face) → F5 (cut, up to face)
    with BuildSketch(Plane.XY.offset(7.5)):
        with Locations((0, 5)):
            Circle(F4_R)
    extrude(amount=-F5_DEPTH, mode=Mode.SUBTRACT)


with BuildPart() as f7:
    # F6 (on face) → F7 (new body)
    with BuildSketch(Plane.YZ.offset(7.5)):
        with Locations((5, 0)):
            Circle(F6_R)
    extrude(amount=-F7_DEPTH)


solid = Compound([f1.part, f7.part])
